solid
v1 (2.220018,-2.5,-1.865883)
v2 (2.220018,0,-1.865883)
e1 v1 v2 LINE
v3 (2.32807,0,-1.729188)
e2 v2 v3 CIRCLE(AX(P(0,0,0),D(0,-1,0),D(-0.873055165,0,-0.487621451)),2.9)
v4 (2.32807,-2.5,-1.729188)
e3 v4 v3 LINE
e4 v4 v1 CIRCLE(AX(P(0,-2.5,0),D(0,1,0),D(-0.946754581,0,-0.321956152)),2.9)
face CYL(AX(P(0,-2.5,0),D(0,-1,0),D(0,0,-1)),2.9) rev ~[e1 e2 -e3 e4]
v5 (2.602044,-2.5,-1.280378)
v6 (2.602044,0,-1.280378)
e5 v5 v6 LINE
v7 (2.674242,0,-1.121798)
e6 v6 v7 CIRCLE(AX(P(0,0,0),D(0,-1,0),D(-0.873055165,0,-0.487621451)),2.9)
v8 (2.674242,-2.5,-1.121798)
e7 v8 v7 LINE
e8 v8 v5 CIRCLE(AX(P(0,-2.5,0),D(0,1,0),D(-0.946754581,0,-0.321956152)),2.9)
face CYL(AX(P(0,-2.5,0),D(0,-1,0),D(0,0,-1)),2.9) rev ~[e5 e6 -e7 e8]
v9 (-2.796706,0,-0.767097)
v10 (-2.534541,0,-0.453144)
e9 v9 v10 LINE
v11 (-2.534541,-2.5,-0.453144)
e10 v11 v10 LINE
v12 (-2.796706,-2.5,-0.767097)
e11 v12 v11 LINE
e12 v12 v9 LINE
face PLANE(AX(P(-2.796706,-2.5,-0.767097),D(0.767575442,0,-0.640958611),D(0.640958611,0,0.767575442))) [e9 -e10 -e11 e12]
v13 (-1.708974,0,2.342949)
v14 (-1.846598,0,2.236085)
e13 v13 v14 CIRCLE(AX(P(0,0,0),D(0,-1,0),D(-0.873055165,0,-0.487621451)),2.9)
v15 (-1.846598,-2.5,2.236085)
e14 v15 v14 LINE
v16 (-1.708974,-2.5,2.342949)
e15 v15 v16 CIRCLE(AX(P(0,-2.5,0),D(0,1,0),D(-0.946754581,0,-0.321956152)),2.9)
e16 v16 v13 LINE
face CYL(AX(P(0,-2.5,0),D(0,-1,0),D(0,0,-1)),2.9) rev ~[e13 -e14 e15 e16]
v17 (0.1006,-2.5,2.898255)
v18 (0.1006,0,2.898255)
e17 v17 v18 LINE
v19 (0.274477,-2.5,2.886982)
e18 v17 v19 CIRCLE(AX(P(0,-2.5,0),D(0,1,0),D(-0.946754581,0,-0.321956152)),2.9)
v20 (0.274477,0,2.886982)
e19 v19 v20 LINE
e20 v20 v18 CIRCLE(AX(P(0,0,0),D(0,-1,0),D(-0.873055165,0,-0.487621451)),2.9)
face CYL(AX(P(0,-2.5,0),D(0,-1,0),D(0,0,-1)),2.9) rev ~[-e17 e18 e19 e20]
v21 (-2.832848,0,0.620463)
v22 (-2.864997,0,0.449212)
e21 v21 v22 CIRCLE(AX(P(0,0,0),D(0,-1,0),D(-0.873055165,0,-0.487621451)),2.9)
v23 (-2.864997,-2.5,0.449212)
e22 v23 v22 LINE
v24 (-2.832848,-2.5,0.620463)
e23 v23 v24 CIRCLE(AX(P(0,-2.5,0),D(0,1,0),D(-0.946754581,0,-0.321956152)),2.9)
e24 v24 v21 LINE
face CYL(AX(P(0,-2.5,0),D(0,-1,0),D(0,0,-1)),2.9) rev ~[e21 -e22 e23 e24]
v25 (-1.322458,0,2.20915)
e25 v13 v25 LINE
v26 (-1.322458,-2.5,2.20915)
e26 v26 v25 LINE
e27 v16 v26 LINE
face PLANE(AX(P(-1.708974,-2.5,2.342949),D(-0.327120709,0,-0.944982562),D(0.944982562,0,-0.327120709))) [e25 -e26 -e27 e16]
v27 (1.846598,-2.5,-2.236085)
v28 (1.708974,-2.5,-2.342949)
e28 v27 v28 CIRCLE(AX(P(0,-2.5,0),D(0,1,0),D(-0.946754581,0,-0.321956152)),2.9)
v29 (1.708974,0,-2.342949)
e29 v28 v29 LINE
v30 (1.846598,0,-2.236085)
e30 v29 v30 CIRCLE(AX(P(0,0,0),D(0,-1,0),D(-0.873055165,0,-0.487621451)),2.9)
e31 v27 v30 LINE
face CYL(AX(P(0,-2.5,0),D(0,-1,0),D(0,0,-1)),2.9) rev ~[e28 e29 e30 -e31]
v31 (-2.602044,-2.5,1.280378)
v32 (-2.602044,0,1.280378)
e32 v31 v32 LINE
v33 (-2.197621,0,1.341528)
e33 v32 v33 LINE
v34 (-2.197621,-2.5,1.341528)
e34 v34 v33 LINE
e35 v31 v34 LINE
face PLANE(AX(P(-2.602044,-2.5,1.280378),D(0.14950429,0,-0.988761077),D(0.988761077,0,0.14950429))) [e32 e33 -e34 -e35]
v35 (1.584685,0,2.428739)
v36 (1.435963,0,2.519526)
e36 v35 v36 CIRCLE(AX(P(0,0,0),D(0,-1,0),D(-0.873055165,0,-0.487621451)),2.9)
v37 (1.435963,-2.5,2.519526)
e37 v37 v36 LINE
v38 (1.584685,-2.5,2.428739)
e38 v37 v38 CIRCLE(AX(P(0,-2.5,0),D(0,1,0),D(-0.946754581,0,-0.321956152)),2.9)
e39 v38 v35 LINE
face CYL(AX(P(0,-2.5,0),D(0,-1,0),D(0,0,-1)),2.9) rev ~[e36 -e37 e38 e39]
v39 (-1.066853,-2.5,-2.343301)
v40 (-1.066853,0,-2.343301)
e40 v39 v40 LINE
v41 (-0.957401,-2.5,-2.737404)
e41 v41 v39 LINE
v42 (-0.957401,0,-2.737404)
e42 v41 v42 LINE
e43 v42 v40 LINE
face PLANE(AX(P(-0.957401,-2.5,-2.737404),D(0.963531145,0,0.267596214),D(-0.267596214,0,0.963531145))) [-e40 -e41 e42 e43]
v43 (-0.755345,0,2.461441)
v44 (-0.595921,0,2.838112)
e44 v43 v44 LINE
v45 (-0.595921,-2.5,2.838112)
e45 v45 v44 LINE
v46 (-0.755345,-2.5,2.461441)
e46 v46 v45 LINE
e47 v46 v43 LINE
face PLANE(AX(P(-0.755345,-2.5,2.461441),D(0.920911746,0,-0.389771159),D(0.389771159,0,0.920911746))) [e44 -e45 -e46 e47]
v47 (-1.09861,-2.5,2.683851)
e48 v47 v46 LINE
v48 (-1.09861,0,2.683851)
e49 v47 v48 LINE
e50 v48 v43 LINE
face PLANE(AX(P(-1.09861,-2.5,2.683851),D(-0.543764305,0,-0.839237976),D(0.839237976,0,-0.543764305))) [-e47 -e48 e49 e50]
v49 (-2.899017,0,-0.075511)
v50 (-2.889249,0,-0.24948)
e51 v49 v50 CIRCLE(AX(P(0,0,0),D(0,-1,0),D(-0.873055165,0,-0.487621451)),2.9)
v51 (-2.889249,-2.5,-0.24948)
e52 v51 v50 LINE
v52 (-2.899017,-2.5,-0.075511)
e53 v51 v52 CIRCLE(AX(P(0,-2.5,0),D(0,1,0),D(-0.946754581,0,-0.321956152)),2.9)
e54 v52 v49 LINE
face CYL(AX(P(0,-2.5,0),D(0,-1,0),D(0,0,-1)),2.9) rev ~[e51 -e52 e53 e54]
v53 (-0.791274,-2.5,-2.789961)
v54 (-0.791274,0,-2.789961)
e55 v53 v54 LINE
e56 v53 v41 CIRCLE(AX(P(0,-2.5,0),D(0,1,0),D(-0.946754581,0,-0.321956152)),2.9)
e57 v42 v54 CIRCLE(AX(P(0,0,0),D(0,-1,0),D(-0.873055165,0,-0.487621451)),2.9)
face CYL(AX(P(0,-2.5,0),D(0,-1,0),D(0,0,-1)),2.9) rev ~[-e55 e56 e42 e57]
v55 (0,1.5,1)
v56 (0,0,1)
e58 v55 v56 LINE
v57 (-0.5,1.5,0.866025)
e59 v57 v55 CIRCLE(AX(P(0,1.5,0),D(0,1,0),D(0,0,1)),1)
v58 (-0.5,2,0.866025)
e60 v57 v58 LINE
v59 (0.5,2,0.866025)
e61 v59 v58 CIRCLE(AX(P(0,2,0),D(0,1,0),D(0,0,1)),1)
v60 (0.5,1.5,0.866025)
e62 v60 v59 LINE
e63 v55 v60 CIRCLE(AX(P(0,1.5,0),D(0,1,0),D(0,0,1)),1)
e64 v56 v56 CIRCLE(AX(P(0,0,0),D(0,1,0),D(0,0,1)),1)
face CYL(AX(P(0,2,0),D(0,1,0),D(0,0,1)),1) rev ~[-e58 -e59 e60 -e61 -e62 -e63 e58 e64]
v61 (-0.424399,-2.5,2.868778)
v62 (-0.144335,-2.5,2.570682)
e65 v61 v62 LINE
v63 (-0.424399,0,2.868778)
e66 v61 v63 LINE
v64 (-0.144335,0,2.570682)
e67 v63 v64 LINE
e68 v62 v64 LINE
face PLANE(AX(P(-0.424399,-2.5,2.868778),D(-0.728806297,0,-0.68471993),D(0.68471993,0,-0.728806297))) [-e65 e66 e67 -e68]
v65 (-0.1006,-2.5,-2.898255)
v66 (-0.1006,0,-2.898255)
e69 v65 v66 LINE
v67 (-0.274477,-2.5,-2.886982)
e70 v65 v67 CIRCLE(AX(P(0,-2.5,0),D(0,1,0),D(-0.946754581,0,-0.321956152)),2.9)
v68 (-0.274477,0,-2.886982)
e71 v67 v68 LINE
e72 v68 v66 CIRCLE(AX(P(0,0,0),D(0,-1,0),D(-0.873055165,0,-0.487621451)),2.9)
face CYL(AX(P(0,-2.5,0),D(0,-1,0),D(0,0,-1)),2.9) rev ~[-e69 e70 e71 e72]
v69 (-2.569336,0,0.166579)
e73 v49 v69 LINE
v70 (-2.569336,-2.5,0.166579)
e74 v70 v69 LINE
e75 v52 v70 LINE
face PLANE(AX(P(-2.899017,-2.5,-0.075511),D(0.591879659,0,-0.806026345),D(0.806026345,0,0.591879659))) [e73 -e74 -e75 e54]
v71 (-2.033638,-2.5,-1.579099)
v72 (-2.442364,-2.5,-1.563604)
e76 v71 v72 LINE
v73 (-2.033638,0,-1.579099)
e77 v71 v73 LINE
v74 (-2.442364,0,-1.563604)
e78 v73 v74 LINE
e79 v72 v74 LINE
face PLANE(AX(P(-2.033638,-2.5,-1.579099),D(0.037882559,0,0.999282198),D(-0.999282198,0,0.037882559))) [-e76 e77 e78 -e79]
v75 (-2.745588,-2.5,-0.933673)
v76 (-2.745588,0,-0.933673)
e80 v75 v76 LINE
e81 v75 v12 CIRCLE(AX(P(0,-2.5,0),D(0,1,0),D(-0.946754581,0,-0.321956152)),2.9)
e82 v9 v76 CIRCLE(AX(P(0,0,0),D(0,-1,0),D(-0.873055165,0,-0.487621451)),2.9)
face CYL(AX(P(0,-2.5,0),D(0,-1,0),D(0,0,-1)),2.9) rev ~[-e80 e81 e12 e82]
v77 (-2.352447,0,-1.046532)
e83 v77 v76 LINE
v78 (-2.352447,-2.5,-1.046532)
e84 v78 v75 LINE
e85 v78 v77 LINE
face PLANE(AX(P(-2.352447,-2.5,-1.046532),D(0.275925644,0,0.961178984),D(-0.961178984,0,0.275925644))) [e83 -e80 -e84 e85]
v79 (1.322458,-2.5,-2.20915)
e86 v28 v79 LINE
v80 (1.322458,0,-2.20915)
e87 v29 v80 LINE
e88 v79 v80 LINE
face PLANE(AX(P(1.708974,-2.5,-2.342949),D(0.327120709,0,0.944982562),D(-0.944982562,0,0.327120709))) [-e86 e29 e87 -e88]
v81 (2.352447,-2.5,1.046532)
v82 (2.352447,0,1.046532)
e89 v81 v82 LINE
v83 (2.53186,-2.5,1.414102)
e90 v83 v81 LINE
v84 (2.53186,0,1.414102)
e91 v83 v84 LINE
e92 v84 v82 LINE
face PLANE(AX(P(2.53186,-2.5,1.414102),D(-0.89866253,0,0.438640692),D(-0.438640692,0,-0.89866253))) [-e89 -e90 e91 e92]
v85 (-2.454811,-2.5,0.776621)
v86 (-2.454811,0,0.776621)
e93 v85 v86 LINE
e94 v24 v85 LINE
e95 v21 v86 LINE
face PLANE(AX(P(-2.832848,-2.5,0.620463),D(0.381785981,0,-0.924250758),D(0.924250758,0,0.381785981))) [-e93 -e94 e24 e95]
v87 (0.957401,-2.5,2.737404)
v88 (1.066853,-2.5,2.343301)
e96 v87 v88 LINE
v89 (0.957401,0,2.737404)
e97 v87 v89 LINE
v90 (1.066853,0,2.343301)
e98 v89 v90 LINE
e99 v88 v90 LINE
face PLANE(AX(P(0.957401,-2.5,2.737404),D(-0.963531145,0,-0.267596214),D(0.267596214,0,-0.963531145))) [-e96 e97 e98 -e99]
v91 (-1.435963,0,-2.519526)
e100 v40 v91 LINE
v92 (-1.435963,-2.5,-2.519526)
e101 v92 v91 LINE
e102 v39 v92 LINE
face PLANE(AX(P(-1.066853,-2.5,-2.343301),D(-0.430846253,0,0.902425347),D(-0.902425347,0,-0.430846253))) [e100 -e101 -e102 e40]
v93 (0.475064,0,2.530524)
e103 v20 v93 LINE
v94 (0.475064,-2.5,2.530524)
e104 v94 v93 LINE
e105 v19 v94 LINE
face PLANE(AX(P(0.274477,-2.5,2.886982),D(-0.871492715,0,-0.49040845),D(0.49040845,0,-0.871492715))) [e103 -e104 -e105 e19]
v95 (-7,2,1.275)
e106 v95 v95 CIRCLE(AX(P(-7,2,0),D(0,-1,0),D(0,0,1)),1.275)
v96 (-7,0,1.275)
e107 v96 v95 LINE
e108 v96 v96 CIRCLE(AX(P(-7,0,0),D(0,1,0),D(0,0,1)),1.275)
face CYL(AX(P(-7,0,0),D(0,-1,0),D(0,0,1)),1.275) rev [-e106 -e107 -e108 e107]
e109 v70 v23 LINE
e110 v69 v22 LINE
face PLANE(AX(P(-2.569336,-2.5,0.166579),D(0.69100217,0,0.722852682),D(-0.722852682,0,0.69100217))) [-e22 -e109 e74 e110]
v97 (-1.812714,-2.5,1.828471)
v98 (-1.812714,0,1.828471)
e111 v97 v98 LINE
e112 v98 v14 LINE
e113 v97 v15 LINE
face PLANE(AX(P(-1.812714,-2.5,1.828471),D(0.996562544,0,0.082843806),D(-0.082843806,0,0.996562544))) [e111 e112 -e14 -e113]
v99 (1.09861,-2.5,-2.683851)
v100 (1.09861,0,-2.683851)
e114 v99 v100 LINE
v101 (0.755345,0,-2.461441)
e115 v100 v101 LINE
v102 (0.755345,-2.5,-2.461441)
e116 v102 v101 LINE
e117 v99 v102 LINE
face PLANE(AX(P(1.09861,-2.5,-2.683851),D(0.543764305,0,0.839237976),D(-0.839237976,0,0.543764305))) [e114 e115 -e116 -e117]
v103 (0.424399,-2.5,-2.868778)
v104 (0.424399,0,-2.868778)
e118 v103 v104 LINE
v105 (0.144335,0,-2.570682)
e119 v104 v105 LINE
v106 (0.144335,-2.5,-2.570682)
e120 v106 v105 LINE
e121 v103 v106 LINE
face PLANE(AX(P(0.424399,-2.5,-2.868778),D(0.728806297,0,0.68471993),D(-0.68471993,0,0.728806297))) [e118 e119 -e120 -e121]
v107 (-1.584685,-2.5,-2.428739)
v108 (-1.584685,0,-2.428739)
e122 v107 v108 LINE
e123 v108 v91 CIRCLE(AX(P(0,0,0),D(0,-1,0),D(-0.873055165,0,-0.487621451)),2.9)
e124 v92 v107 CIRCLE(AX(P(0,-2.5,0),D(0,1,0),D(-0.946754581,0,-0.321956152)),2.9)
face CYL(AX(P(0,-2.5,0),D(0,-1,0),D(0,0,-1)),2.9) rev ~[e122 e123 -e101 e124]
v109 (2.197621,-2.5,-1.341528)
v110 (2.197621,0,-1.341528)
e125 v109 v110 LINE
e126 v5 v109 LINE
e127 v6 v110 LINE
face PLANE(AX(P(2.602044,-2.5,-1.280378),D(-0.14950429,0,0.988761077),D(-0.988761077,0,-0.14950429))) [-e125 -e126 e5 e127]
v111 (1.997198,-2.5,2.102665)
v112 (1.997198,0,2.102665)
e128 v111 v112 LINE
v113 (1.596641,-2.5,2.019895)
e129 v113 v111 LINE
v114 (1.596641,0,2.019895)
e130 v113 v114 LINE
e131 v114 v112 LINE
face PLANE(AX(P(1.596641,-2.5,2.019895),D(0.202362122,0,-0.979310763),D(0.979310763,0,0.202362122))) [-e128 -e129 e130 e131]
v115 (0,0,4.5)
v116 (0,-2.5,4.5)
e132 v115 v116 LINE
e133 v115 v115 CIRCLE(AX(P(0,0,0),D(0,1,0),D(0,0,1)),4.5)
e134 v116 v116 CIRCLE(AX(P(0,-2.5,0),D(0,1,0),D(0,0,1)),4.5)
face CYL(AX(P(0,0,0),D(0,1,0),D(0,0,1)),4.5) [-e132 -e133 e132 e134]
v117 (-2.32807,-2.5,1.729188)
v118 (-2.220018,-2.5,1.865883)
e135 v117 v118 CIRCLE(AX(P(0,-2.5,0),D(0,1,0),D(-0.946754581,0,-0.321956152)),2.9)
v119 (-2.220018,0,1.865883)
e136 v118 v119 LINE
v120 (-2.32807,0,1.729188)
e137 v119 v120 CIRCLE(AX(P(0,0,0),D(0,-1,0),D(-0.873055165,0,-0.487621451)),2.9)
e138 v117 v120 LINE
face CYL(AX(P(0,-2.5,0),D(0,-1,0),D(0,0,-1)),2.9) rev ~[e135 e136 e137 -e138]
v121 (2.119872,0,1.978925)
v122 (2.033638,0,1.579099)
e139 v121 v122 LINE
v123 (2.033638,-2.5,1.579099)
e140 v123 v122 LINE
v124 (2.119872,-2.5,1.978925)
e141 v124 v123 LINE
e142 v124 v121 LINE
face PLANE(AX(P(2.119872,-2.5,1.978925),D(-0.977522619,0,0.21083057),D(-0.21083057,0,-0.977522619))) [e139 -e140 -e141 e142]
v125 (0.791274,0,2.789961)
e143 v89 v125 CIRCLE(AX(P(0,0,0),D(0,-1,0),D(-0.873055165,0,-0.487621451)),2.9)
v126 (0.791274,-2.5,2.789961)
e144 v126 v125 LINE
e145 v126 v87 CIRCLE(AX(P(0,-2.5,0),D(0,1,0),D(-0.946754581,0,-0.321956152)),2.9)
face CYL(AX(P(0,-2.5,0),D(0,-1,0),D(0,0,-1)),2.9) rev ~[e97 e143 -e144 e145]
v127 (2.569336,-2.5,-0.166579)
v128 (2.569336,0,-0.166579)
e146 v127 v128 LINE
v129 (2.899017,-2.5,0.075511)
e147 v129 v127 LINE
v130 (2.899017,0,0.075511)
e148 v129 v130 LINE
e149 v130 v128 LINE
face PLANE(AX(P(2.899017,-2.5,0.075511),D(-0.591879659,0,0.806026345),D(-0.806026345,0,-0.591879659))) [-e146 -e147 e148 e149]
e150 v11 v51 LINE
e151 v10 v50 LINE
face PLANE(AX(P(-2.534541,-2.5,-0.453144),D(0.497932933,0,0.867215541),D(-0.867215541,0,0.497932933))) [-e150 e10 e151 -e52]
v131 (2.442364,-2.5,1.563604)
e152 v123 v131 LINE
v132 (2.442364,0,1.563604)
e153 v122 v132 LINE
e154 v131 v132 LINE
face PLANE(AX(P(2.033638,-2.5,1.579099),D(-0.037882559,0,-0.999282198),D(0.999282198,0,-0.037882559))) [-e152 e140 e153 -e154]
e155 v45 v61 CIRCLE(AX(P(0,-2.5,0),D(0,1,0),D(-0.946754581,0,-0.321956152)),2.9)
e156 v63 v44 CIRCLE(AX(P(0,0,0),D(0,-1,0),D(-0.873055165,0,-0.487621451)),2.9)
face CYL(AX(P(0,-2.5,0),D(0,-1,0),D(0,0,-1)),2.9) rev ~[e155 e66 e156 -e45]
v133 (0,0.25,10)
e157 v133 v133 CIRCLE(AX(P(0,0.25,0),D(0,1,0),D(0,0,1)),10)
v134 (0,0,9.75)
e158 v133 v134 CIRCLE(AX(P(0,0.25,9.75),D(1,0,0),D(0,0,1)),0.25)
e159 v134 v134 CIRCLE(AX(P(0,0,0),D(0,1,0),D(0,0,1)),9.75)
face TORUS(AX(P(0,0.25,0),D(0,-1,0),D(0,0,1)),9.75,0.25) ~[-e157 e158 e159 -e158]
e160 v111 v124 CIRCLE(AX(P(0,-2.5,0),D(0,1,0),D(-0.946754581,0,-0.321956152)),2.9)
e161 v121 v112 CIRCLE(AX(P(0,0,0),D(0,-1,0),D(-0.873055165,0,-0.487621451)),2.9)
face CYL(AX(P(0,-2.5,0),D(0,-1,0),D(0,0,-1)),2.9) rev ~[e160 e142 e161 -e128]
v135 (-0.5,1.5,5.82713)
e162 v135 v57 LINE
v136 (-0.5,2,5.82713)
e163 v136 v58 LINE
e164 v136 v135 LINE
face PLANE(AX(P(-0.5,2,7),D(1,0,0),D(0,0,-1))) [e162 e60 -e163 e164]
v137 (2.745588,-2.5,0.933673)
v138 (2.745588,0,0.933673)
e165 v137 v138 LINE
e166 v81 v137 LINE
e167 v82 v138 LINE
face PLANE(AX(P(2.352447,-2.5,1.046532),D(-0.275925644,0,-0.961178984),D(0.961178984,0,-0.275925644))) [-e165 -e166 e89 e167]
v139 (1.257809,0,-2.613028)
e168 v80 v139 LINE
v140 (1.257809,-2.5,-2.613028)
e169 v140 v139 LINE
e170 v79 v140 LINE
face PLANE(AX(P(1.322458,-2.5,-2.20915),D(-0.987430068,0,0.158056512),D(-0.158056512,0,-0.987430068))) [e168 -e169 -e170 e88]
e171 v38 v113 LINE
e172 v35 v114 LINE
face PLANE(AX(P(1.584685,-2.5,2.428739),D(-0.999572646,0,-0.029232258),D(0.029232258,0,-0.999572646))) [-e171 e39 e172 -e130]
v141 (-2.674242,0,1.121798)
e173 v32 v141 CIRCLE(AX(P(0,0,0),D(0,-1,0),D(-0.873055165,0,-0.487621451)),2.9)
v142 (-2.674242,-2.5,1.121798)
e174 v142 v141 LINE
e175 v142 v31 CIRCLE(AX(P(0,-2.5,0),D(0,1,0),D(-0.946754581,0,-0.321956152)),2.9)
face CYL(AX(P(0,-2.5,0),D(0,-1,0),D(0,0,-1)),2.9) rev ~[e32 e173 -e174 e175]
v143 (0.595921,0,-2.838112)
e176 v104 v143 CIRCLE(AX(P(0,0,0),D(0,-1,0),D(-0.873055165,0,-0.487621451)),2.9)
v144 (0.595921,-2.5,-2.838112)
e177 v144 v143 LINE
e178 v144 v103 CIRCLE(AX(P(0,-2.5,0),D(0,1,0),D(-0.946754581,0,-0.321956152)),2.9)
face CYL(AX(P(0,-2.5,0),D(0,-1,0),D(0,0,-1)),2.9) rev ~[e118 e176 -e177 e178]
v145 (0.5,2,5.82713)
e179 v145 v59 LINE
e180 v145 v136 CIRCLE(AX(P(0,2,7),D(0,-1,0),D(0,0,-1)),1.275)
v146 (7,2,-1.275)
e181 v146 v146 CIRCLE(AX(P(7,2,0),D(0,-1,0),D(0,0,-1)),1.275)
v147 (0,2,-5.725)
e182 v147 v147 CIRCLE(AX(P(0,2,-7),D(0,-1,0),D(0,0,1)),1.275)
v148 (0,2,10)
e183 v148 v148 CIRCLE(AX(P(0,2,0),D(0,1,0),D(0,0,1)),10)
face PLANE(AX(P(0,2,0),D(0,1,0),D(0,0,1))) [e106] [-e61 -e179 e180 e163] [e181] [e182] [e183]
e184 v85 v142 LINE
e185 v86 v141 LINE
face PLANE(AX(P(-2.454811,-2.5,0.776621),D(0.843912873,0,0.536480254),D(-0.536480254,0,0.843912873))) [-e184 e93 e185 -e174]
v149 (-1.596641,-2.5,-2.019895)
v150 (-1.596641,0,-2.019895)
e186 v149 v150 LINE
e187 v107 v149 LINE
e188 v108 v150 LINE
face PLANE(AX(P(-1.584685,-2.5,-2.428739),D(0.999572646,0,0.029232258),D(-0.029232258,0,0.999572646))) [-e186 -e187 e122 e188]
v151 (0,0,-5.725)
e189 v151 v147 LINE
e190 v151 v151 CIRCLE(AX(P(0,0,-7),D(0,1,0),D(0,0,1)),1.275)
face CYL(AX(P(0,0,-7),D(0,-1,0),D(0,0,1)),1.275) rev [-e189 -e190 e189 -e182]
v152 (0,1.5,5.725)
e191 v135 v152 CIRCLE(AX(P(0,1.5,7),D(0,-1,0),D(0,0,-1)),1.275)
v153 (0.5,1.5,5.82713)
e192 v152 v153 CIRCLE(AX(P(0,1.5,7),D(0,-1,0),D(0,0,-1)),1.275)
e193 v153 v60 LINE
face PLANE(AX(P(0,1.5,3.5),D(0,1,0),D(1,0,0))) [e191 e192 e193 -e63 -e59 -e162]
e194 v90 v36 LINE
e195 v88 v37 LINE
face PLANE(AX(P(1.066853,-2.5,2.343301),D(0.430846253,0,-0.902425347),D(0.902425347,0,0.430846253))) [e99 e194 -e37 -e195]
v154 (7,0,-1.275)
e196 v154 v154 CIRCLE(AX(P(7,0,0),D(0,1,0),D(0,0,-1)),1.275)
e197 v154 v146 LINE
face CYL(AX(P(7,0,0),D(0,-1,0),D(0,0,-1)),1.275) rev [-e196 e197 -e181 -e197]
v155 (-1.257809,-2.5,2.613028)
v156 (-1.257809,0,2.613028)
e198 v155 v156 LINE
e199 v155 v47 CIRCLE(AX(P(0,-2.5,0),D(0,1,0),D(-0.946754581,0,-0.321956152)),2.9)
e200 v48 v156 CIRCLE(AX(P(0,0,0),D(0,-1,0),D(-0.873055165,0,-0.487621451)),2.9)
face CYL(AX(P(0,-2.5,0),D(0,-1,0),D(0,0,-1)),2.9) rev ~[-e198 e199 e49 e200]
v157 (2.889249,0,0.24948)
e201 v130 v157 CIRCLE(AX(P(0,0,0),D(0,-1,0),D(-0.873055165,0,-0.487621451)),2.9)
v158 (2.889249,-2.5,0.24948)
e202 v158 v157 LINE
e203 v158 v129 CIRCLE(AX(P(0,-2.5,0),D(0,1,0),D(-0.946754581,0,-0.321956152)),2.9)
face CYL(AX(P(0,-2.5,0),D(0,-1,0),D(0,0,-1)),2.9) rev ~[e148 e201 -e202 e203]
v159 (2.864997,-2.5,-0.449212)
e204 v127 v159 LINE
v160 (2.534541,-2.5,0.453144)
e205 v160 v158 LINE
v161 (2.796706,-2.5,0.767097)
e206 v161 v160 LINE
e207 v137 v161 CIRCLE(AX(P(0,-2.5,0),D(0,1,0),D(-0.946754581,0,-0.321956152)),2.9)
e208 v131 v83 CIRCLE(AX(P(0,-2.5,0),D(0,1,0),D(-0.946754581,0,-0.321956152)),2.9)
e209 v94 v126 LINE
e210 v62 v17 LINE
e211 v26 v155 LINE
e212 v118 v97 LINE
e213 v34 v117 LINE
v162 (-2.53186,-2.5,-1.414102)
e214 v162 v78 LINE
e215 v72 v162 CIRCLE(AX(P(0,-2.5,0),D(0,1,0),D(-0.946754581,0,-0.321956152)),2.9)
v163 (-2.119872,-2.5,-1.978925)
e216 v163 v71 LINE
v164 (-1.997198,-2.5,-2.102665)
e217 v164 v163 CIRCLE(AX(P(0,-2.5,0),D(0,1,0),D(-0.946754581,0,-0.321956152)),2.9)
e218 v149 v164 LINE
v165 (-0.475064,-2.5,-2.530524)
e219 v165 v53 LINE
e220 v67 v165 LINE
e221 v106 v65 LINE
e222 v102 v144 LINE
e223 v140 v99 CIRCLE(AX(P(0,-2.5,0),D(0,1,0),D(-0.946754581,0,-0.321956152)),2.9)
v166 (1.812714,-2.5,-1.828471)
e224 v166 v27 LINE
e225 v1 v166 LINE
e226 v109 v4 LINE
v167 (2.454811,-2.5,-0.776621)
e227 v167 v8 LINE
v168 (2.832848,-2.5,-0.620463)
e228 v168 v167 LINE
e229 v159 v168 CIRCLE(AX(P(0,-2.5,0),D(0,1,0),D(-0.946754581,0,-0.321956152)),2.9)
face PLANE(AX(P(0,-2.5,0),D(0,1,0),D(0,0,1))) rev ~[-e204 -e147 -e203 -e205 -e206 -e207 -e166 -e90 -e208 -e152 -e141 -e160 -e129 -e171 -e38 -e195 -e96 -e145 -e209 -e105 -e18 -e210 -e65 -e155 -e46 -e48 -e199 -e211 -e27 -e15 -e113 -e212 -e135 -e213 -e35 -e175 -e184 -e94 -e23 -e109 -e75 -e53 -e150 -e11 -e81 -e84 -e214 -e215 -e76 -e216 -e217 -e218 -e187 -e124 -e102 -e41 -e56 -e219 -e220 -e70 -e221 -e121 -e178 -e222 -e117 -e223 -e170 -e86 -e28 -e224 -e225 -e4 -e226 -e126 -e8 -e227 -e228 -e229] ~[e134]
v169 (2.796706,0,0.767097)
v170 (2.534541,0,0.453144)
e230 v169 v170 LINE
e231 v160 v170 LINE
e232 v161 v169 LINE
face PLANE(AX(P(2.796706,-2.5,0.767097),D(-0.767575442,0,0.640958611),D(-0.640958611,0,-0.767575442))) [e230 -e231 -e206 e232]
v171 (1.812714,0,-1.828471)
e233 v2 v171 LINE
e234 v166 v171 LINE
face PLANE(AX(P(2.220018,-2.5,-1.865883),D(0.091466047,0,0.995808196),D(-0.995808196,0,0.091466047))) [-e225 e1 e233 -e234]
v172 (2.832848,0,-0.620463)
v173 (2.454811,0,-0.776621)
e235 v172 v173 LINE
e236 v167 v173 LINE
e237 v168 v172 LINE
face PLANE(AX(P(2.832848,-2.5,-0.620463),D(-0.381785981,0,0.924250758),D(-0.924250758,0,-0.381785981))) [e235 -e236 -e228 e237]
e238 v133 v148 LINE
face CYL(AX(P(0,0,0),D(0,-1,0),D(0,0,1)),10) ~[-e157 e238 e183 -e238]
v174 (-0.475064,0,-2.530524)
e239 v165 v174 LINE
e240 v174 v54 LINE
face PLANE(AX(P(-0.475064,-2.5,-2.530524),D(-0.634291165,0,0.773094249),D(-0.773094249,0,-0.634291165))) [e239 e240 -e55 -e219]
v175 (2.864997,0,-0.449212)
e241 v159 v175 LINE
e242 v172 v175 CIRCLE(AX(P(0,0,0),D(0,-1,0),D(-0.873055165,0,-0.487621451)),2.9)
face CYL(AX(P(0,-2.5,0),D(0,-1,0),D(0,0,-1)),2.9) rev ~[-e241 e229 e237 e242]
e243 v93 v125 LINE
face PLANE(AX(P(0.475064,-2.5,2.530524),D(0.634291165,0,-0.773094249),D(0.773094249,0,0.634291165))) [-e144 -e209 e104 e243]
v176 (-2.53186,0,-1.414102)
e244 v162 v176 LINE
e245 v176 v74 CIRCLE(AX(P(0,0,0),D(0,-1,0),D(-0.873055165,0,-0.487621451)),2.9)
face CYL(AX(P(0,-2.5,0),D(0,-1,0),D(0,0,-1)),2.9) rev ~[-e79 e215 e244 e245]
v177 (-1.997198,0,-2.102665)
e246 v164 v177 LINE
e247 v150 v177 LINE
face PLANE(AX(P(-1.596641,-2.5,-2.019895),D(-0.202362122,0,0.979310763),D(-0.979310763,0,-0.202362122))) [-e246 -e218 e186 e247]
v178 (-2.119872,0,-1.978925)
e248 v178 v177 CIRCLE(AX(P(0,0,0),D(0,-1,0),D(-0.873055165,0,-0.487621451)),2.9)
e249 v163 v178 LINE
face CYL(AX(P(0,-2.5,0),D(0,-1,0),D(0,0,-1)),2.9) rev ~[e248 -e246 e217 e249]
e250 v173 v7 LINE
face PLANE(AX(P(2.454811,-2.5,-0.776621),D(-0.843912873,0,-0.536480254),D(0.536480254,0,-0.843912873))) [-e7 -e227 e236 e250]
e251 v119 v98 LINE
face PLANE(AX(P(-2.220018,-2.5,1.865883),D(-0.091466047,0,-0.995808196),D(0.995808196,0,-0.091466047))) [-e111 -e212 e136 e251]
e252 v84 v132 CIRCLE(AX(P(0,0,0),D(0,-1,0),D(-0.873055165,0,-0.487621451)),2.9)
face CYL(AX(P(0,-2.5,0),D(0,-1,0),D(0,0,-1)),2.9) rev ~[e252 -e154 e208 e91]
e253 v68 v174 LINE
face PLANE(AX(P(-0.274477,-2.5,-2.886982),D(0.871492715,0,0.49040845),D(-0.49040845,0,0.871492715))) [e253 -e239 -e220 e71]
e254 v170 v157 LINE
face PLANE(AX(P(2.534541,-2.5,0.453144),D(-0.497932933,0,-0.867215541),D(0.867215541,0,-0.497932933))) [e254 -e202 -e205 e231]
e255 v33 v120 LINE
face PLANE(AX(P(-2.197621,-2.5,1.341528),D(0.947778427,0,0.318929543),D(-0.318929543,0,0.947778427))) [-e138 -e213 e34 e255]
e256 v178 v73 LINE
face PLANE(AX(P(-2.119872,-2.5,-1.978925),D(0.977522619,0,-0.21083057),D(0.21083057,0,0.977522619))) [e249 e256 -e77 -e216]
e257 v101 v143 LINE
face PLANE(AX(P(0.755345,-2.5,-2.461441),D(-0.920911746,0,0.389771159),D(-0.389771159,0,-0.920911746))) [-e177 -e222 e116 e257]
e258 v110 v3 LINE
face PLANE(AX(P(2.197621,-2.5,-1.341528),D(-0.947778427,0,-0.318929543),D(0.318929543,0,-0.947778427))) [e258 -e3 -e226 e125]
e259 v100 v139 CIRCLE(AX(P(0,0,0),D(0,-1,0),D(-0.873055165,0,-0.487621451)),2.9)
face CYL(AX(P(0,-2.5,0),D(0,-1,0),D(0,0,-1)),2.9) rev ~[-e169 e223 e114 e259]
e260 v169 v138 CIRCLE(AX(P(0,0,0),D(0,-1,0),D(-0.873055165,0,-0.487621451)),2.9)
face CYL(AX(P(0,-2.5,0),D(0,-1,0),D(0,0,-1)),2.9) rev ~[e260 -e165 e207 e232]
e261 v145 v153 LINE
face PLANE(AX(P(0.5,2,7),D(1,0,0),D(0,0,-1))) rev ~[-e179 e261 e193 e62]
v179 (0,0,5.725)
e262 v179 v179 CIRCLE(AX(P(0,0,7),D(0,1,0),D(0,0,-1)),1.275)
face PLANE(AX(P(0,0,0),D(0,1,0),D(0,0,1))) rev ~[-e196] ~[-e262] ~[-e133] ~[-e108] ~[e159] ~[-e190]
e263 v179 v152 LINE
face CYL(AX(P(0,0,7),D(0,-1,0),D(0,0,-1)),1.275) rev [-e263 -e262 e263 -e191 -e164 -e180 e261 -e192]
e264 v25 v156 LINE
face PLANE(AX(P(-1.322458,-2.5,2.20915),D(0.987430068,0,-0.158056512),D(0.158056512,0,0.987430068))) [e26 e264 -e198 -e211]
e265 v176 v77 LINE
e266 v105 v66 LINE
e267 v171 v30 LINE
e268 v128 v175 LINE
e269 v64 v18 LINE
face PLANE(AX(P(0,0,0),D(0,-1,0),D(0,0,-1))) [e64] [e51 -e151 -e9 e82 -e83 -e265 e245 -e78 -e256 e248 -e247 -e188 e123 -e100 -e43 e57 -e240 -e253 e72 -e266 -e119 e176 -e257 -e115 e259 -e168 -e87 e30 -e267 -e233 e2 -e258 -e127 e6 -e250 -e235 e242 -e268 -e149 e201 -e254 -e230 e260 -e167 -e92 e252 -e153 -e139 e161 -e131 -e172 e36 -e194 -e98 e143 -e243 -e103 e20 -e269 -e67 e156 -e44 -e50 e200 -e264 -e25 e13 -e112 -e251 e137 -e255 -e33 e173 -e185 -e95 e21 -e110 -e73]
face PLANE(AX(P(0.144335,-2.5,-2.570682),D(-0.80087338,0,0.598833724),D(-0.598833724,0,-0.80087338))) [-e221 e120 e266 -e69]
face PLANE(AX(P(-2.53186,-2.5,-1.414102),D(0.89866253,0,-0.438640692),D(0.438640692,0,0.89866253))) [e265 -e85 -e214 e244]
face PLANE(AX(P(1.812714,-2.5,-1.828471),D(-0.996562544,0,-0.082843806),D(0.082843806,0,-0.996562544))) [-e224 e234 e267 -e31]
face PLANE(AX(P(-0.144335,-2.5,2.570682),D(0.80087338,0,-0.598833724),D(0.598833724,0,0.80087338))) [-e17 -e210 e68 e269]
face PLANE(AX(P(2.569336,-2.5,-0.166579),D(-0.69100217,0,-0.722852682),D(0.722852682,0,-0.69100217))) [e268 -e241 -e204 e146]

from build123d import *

# Parameters (mm, degrees)
SKETCH1_R           = 10
BOSS_EXTRUDE1_DEPTH = 2
SKETCH2_R           = 4.5
BOSS_EXTRUDE2_DEPTH = 2.5
SKETCH3_R           = 1.275
CUT_EXTRUDE1_DEPTH  = 15.361406616
FILLET1_R           = 0.25
SKETCH6_R           = 1
CUT_EXTRUDE2_DEPTH  = 15.840822214
SKETCH7_R           = 2.9
CUT_EXTRUDE3_DEPTH  = 2.5
BOSS_EXTRUDE4_DEPTH = 2.5
CIRPATTERN1_COUNT   = 26
SKETCH9_W           = 1
SKETCH9_H           = 7
CUT_EXTRUDE4_DEPTH  = 0.5


with BuildPart() as part:
    # Sketch1 → Boss-Extrude1 (new body)
    with BuildSketch(Plane(origin=(0, 0, 0), x_dir=(1, 0, 0), z_dir=(0, 1, 0))):
        with Locations(Location((0, 0, 0), (0, 0, 270))):
            Circle(SKETCH1_R)
    extrude(amount=BOSS_EXTRUDE1_DEPTH)

    # Sketch2 → Boss-Extrude2 (add)
    with BuildSketch(Plane(origin=(0, 0, 0), x_dir=(1, 0, 0), z_dir=(0, 1, 0))):
        with Locations(Location((0, 0, 0), (0, 0, 270))):
            Circle(SKETCH2_R)
    extrude(amount=-BOSS_EXTRUDE2_DEPTH)

    # Sketch3 → Cut-Extrude1 (cut, through all)
    with BuildSketch(Plane(origin=(0, 0, 0), x_dir=(1, 0, 0), z_dir=(0, 1, 0))):
        with Locations(Location((0, 7, 0), (0, 0, 270))):
            Circle(SKETCH3_R)
        with Locations(Location((-7, 0, 0), (0, 0, 270))):
            Circle(SKETCH3_R)
        with Locations(Location((0, -7, 0), (0, 0, 90))):
            Circle(SKETCH3_R)
        with Locations(Location((7, 0, 0), (0, 0, 90))):
            Circle(SKETCH3_R)
    extrude(amount=CUT_EXTRUDE1_DEPTH, mode=Mode.SUBTRACT)

    # Fillet1
    fillet1_edges = [part.edges().sort_by_distance(p)[0] for p in [
        (0, 0, -10),
    ]]
    fillet(fillet1_edges, radius=FILLET1_R)

    # Sketch6 → Cut-Extrude2 (cut, through all)
    with BuildSketch(Plane(origin=(0, 2, 0), x_dir=(1, 0, 0), z_dir=(0, 1, 0))):
        with Locations(Location((0, 0, 0), (0, 0, 270))):
            Circle(SKETCH6_R)
    extrude(amount=-CUT_EXTRUDE2_DEPTH, mode=Mode.SUBTRACT)

    # Sketch7 → Cut-Extrude3 (cut)
    with BuildSketch(Plane.XZ.offset(2.5)):
        with Locations(Location((0, 0, 0), (0, 0, 270))):
            Circle(SKETCH7_R)
    extrude(amount=-CUT_EXTRUDE3_DEPTH, mode=Mode.SUBTRACT)

    # Sketch8 → Boss-Extrude4 (add)
    with BuildSketch(Plane.XZ.offset(2.5)):
        with BuildLine():
            Line((-2.35244742, -1.046531787), (-2.745588284, -0.933672842))
            ThreePointArc((-2.745588284, -0.933672842), (-2.649635472, -1.178741646), (-2.531859978, -1.414102207))
            Line((-2.531859978, -1.414102207), (-2.35244742, -1.046531787))
        make_face()
    boss_extrude4 = extrude(amount=-BOSS_EXTRUDE4_DEPTH)

    # CirPattern1: Boss-Extrude4 ×26 about axis
    cirpattern1_axis = Axis((0, 0, 0), (0, 1, 0))
    for i in range(1, CIRPATTERN1_COUNT):
        add(boss_extrude4.rotate(cirpattern1_axis, i * 360 / CIRPATTERN1_COUNT))

    # Sketch9 → Cut-Extrude4 (cut)
    with BuildSketch(Plane(origin=(0, 2, 0), x_dir=(1, 0, 0), z_dir=(0, 1, 0))):
        with Locations((0, -3.5)):
            Rectangle(SKETCH9_W, SKETCH9_H)
    extrude(amount=-CUT_EXTRUDE4_DEPTH, mode=Mode.SUBTRACT)


solid = part.part
